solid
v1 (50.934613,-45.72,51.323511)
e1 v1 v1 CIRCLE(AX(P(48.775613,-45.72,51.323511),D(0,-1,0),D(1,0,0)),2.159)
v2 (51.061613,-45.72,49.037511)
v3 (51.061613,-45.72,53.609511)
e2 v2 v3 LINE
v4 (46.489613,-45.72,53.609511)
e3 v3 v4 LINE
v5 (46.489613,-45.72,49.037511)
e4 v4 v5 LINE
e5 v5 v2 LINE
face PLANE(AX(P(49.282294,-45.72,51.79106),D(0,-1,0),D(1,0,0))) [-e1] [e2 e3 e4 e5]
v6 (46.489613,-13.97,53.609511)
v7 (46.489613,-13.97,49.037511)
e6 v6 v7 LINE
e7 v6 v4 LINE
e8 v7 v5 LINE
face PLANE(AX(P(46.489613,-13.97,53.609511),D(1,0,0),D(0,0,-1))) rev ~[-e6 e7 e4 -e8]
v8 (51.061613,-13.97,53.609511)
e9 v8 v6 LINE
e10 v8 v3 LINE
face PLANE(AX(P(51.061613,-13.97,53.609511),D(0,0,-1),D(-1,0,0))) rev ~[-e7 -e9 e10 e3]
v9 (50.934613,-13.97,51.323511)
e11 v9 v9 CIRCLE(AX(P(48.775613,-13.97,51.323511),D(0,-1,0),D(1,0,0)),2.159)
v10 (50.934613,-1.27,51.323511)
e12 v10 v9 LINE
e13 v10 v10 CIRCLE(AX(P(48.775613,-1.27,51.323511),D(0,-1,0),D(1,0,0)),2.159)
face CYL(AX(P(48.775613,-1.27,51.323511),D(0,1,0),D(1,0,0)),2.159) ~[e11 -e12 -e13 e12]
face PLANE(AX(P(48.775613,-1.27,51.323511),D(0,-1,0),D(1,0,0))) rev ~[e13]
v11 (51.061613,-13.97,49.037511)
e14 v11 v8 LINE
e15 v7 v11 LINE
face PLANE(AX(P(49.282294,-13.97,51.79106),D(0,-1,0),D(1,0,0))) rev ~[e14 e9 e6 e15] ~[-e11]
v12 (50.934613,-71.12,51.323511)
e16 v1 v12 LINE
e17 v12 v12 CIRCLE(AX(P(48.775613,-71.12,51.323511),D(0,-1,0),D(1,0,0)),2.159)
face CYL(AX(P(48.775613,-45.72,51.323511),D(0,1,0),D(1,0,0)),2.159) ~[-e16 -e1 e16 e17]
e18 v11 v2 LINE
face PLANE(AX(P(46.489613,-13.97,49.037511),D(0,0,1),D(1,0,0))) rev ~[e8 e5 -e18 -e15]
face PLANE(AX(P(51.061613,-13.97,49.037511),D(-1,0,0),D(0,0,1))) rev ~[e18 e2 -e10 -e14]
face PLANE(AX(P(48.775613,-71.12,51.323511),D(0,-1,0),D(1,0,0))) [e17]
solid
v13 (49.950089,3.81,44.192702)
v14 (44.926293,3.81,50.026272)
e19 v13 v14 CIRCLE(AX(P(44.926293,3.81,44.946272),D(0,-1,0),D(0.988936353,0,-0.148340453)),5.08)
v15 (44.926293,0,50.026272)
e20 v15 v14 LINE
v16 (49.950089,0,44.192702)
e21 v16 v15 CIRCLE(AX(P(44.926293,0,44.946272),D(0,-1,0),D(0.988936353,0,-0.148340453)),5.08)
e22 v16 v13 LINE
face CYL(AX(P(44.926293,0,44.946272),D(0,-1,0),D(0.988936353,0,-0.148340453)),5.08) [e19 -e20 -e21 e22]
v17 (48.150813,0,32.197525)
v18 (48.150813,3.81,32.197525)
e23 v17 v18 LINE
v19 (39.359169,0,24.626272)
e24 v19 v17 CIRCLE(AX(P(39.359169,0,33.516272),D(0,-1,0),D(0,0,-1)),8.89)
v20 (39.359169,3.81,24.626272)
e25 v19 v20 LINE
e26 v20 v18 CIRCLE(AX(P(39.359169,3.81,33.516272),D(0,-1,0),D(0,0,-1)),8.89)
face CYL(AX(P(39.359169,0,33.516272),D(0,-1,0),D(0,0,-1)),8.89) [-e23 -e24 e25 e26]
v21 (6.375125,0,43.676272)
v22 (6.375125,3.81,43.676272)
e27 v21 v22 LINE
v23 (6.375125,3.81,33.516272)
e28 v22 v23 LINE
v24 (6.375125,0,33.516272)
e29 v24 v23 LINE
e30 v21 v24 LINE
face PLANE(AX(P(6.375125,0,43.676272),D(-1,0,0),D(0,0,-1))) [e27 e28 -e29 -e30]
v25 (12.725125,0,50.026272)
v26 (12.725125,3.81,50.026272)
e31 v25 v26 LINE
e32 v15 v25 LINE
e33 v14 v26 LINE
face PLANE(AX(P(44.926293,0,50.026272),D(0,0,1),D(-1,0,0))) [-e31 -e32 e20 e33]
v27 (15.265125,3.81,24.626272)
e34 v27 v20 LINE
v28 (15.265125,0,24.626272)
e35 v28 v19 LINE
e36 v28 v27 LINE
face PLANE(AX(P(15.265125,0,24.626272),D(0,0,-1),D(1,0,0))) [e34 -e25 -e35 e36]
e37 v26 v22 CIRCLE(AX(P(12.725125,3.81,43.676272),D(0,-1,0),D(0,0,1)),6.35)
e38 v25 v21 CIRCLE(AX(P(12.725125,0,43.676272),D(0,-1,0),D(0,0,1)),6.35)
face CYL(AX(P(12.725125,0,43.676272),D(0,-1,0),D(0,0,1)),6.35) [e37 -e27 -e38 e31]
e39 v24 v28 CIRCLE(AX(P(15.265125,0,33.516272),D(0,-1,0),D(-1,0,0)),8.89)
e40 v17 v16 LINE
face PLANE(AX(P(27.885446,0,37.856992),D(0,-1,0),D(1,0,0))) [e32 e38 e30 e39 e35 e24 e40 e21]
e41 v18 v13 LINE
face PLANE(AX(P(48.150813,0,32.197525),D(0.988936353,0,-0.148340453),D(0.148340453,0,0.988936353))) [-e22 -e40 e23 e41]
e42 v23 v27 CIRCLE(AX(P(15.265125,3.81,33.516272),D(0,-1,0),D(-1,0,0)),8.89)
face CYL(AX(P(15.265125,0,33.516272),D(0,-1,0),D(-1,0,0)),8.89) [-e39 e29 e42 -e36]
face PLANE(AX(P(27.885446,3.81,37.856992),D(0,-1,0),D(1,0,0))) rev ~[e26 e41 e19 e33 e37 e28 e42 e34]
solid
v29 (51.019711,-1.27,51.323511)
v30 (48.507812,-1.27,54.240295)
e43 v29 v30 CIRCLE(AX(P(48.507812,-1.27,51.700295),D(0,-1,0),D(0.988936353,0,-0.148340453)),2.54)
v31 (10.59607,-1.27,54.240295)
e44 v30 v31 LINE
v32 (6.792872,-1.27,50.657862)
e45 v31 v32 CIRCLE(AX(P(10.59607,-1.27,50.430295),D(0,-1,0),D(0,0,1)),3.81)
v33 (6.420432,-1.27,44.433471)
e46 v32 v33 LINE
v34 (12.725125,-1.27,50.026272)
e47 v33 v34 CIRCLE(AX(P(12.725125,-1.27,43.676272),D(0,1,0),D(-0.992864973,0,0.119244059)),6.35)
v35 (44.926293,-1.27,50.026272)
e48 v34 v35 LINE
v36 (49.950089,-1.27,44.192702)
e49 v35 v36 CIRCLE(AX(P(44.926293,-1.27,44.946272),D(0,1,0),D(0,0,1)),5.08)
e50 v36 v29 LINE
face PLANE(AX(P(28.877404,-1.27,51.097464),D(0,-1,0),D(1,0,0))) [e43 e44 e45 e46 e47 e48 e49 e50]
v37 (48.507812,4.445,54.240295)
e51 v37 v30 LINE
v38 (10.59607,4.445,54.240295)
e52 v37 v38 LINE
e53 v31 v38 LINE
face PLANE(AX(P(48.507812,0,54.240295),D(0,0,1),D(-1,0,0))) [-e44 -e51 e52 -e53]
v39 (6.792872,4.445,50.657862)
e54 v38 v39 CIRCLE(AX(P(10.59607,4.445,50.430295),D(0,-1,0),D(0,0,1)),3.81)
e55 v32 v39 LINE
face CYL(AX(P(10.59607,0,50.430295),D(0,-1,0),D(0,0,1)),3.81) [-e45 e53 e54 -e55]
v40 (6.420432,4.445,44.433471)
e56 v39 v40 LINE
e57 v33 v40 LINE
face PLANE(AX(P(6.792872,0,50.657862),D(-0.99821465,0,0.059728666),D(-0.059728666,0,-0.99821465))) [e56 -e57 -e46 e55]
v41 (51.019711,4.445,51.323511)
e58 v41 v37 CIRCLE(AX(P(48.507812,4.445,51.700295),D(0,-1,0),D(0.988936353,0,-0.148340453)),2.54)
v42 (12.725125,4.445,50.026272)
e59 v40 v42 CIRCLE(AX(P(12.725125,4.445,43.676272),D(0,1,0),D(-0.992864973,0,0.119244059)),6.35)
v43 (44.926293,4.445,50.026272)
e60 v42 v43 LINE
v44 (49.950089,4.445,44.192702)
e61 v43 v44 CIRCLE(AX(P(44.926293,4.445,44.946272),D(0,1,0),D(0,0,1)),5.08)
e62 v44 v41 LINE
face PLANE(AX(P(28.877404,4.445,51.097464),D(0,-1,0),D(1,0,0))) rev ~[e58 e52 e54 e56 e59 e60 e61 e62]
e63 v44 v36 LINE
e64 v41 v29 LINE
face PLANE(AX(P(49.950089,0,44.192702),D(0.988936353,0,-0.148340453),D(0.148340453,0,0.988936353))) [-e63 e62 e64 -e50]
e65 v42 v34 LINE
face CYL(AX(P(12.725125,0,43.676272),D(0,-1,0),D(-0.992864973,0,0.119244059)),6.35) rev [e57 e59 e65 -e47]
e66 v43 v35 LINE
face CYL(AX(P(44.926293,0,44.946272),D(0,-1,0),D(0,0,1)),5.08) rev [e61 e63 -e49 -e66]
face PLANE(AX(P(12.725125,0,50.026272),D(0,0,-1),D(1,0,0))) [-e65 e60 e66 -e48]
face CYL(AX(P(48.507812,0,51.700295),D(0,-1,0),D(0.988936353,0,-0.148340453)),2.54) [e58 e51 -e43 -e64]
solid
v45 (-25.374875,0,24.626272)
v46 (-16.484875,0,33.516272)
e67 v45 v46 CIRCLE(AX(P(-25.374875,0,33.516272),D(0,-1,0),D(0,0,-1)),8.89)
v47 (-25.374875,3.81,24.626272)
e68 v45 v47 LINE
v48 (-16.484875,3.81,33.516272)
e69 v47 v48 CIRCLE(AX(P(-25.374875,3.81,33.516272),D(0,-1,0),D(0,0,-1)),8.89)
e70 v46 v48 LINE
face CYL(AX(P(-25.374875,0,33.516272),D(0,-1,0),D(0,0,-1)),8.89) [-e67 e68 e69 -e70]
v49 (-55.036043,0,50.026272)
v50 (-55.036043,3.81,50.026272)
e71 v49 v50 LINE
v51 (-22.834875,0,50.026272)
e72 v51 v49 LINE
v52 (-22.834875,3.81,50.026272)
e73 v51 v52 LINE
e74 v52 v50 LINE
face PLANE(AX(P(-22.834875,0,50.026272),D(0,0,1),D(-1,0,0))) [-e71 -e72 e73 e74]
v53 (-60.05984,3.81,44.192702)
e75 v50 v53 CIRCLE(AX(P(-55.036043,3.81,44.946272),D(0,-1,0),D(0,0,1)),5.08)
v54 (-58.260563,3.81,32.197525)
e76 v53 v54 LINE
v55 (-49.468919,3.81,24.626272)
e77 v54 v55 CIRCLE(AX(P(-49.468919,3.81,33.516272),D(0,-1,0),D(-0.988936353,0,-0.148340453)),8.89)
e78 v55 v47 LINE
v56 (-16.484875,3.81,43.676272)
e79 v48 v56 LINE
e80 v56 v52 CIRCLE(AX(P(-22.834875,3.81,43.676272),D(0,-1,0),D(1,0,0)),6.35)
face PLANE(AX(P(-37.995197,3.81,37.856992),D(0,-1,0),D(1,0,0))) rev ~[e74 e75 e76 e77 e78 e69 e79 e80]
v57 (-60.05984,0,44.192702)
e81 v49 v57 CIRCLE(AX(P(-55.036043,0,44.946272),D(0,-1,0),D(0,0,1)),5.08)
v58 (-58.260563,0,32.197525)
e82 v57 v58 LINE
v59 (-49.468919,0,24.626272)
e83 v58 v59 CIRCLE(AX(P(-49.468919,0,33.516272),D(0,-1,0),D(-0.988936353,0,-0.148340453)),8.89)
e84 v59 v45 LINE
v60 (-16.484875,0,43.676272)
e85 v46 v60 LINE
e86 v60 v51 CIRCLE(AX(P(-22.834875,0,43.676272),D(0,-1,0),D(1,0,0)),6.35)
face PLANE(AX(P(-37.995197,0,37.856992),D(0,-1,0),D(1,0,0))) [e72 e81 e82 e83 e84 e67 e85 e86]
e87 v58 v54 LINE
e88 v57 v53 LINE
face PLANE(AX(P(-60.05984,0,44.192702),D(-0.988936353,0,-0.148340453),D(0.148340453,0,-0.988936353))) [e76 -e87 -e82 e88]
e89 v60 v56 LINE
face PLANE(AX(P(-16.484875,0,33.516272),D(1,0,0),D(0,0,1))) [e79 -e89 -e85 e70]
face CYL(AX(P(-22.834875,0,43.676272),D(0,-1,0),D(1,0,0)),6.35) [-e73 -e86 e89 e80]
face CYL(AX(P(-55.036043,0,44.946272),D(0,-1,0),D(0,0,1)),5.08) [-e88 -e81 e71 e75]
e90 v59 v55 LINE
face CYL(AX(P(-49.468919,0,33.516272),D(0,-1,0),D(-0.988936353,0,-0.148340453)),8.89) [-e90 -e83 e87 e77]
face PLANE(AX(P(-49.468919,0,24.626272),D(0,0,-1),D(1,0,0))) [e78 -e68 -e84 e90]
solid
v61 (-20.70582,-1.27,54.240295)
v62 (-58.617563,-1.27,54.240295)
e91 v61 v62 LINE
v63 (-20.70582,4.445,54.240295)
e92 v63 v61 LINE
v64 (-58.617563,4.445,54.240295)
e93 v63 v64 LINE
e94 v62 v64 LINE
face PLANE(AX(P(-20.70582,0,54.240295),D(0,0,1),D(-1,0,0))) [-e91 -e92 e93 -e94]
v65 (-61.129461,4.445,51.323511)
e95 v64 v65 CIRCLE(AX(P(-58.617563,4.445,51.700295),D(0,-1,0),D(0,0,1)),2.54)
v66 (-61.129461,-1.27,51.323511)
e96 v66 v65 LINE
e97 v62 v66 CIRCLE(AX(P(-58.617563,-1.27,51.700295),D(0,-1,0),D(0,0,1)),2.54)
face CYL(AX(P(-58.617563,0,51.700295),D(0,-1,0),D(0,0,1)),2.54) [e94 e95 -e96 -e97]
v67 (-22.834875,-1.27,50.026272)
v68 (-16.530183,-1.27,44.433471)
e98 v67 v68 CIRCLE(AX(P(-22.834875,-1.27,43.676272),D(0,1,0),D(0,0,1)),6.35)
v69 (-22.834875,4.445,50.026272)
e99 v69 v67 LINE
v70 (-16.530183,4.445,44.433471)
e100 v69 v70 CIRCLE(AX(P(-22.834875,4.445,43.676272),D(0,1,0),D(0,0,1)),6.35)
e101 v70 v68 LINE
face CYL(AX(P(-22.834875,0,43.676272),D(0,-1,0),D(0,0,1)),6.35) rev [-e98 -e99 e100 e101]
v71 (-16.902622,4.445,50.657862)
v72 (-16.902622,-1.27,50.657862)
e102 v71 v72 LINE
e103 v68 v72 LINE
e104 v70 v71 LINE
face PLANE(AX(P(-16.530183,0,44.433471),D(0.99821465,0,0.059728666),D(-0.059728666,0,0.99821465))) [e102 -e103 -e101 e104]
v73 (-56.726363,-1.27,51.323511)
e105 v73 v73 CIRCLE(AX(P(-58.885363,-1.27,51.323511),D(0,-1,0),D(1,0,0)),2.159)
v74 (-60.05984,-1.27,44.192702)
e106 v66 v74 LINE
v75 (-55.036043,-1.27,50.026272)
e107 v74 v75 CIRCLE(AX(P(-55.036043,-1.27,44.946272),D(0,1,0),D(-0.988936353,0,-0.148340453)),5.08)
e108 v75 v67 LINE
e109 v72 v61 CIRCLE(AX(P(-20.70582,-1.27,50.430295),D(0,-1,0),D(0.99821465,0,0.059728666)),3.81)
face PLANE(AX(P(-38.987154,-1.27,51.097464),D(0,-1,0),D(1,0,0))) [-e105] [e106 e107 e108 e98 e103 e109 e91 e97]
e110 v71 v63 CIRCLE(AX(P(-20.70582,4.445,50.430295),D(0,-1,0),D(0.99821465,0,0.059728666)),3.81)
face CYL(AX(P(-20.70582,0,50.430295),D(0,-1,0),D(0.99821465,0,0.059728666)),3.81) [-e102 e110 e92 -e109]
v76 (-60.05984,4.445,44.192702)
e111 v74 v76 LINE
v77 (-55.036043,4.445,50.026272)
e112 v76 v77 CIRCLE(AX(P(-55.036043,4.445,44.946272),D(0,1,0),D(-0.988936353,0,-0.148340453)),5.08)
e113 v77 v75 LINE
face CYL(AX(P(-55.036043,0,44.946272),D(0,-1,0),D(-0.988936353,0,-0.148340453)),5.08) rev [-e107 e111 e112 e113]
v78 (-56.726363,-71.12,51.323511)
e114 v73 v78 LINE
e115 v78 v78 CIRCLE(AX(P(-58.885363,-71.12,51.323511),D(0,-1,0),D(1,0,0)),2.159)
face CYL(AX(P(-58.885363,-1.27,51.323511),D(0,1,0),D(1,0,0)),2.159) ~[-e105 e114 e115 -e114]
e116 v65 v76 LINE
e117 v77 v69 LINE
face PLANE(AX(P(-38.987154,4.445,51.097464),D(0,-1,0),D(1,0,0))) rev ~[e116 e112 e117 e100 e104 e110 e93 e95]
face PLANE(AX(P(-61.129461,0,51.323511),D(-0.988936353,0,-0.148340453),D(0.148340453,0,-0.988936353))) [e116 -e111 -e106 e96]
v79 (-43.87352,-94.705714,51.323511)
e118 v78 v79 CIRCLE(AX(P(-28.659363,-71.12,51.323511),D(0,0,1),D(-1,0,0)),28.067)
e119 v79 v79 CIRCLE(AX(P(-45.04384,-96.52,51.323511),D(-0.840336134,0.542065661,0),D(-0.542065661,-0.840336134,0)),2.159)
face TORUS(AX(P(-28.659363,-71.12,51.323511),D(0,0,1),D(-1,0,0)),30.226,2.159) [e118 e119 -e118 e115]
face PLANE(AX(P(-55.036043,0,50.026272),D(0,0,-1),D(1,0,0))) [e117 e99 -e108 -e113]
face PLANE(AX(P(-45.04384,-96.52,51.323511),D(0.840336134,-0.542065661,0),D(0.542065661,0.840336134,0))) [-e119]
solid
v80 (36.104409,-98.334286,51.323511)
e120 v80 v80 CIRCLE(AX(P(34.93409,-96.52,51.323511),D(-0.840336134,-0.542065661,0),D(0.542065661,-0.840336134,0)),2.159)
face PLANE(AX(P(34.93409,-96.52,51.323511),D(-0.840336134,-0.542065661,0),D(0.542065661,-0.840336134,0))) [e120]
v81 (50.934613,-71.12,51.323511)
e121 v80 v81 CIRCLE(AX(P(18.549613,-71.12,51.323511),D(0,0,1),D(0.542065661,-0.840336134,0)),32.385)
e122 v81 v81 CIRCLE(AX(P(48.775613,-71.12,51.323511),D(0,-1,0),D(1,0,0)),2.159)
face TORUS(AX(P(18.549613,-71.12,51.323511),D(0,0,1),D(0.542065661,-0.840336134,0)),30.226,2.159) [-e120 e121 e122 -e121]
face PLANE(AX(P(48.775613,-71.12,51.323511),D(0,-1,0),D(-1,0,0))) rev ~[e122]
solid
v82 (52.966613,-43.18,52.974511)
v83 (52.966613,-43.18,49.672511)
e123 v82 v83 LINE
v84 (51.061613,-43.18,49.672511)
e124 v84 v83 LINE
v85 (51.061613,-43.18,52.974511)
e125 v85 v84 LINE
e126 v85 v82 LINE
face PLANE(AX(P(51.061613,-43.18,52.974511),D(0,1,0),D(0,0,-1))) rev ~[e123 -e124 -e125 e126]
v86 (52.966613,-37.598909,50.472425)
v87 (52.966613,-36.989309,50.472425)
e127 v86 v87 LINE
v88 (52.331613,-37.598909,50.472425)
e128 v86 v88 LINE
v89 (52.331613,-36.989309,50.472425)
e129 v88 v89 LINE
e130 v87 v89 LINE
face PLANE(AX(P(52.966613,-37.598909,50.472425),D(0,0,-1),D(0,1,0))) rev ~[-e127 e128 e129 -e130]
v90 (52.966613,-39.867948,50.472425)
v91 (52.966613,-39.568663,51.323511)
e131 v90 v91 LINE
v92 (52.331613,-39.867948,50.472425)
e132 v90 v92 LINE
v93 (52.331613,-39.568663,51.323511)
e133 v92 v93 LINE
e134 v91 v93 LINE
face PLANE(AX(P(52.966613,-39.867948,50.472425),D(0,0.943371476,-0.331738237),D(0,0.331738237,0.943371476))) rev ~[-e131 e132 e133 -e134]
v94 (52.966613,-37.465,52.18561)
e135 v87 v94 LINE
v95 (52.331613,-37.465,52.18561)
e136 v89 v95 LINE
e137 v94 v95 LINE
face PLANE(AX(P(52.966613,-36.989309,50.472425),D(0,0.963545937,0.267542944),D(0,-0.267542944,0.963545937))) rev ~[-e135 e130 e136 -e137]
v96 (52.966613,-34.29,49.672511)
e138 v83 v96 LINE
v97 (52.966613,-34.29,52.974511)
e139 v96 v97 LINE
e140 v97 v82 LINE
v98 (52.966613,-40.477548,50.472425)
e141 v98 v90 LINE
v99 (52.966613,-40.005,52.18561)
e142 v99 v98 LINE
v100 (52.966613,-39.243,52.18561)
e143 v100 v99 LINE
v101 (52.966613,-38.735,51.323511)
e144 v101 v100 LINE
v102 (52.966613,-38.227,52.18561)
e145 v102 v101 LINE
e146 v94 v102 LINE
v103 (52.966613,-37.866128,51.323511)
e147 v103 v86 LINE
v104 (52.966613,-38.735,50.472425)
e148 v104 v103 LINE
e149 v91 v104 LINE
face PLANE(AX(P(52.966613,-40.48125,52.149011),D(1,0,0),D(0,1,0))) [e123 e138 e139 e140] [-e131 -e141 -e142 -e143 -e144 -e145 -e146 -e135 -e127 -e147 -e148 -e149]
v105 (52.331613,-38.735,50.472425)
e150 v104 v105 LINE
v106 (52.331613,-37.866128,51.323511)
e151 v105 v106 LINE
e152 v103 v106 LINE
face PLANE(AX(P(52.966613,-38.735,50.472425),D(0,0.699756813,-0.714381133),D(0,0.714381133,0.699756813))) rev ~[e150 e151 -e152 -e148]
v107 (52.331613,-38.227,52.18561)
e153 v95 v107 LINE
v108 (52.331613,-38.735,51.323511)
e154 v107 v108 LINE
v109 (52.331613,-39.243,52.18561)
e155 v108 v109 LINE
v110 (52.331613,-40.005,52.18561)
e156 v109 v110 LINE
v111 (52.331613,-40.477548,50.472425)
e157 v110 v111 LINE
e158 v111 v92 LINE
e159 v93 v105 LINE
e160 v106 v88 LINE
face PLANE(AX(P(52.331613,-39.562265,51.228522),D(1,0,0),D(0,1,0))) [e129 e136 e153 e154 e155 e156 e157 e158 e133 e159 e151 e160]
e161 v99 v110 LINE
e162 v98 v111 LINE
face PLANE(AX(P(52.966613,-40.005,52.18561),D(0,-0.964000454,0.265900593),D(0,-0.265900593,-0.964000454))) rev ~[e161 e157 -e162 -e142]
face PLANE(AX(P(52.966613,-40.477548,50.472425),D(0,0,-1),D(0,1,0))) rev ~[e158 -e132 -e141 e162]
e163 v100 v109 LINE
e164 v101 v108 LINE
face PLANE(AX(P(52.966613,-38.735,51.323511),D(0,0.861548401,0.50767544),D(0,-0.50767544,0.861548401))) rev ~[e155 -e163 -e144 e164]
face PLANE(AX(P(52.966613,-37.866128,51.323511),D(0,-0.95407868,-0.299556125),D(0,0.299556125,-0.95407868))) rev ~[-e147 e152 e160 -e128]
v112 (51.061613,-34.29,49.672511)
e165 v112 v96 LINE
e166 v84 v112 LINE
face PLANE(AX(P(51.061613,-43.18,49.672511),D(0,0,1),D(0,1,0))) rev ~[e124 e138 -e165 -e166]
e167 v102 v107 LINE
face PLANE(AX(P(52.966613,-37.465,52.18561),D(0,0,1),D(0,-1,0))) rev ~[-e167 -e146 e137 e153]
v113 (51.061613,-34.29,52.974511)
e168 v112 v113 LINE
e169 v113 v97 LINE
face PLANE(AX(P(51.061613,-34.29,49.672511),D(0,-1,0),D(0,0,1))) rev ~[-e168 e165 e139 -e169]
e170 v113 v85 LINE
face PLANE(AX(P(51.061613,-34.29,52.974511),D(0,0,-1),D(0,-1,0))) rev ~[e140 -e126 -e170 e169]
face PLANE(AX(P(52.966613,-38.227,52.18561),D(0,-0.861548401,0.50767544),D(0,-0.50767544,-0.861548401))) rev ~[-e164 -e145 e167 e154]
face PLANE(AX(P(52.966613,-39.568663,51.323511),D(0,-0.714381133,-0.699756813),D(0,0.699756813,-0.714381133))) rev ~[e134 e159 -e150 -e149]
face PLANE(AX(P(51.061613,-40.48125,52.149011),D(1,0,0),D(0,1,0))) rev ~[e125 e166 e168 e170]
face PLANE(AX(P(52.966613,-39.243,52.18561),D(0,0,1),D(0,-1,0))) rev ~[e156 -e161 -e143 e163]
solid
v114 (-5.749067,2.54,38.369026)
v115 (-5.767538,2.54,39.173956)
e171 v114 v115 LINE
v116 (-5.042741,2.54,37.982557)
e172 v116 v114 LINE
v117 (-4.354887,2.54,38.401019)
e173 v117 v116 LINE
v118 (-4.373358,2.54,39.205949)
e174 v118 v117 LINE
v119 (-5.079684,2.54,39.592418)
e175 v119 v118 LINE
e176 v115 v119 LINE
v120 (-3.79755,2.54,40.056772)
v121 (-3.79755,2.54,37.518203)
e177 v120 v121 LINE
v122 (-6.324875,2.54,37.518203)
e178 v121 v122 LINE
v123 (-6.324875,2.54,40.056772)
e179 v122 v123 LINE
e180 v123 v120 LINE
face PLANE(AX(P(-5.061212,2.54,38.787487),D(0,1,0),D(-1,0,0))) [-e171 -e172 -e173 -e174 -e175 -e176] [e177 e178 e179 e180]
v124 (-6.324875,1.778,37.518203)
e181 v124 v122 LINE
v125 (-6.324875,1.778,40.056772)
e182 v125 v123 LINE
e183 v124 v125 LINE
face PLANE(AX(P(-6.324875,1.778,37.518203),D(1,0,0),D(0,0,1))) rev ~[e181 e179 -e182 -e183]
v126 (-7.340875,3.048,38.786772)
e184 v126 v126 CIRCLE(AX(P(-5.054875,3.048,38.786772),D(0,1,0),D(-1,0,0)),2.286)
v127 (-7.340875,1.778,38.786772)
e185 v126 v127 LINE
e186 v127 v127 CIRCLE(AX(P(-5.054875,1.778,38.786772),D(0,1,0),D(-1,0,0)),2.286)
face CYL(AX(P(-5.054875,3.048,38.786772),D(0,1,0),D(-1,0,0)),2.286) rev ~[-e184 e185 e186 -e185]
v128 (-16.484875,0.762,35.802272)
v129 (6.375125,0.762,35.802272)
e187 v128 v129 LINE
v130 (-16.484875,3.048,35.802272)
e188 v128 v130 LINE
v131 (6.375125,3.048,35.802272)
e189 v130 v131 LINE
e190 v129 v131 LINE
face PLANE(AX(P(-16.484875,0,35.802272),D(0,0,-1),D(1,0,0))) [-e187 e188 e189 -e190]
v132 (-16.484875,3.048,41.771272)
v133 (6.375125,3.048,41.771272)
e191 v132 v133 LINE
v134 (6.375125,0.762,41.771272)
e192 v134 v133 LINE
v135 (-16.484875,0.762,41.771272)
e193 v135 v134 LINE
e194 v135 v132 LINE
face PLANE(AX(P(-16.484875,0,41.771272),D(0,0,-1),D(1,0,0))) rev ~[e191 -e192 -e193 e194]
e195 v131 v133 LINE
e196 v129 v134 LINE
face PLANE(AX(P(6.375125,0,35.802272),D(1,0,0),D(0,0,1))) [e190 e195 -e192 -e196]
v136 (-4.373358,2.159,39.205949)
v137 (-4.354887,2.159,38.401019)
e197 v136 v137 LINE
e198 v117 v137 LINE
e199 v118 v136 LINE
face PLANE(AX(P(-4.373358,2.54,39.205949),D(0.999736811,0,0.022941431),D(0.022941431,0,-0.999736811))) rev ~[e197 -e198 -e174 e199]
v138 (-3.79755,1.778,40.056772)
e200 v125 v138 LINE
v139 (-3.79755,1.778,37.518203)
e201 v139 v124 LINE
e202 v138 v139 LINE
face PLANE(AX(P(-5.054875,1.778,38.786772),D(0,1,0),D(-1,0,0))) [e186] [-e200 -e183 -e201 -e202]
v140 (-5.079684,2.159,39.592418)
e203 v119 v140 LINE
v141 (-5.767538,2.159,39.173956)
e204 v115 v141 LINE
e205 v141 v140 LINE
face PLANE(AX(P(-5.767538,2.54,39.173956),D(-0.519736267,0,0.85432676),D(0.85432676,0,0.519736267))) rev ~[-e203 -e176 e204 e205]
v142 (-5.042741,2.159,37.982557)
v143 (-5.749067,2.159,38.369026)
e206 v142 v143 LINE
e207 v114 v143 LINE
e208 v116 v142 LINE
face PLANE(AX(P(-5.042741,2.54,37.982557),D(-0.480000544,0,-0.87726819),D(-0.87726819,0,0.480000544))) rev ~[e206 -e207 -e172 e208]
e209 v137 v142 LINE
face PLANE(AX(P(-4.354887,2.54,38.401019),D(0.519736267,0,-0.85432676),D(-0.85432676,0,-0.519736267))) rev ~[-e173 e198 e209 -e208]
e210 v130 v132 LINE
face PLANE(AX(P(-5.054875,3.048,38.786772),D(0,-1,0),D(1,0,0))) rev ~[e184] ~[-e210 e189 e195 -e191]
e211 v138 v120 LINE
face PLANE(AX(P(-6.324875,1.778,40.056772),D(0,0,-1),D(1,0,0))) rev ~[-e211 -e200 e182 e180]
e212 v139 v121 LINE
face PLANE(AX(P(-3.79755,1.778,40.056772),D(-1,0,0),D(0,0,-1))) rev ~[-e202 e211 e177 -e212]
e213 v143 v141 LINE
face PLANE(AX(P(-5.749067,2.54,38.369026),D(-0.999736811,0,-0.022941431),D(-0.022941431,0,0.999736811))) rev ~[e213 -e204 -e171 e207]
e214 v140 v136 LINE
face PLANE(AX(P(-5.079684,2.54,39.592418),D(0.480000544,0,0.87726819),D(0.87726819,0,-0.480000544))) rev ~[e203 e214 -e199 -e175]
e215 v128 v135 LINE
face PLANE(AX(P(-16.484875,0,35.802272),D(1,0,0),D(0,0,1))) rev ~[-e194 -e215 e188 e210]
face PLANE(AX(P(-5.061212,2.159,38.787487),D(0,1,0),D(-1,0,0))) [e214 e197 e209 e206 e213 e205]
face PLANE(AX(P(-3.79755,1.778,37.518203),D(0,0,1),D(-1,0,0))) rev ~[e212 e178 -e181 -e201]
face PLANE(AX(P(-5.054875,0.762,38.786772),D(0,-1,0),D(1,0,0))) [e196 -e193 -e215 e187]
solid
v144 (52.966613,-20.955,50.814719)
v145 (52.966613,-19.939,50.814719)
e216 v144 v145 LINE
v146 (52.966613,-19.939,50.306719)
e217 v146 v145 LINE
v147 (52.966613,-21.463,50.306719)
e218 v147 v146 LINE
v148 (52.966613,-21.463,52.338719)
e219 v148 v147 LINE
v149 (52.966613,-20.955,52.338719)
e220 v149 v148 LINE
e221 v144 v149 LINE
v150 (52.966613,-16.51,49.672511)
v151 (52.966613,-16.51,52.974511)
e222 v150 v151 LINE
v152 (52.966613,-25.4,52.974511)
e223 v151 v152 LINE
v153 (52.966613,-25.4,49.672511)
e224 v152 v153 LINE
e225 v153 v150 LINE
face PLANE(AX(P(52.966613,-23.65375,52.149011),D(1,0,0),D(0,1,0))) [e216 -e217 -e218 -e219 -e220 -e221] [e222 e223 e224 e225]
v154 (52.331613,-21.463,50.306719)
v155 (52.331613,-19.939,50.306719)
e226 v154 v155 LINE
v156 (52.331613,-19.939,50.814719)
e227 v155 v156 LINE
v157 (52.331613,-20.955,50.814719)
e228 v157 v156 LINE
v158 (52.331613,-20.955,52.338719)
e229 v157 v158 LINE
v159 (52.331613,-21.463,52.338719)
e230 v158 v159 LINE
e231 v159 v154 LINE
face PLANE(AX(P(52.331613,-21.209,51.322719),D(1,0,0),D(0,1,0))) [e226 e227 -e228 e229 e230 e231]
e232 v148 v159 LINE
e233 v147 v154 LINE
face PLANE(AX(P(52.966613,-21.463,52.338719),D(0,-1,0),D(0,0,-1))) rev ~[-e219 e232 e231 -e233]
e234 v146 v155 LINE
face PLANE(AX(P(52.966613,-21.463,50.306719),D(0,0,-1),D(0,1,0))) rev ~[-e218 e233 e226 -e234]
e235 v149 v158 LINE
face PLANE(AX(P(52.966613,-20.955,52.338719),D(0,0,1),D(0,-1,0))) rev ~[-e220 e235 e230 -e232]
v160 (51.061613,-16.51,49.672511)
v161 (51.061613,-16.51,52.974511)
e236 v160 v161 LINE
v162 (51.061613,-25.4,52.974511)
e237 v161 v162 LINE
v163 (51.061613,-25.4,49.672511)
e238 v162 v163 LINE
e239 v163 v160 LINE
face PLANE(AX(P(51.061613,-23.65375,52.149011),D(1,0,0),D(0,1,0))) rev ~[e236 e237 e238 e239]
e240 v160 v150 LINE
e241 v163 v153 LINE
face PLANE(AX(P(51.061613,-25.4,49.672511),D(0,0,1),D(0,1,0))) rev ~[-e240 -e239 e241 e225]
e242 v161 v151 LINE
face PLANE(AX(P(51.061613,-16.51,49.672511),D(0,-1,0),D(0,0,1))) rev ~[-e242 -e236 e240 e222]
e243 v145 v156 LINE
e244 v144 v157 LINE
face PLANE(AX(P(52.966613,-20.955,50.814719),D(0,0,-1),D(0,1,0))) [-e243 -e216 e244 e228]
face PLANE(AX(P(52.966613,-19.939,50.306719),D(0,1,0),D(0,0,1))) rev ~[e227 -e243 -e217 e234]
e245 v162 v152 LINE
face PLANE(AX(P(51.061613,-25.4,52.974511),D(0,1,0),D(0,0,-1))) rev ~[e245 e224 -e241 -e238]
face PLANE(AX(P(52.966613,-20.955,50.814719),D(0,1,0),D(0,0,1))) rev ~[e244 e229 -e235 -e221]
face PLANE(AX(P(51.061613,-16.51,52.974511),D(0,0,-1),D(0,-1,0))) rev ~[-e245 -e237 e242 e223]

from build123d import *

# Parameters (mm, degrees)
F1_DEPTH      = 3.81
F0_W          = 22.86
F0_H          = 5.969
F2_DEPTH      = 3.048
F3_DEPTH      = 0.762
F5_DEPTH      = 1.27
F5_DEPTH_BACK = 4.445
F6_R          = 2.159
F7_DEPTH      = 69.85
F8_DEPTH      = 12.7
F10_DEPTH     = 31.75
F11_R         = 2.159
F12_DEPTH     = 25.4
F13_R         = 2.286
F14_DEPTH     = 1.27
F16_DEPTH     = 0.762
F18_DEPTH     = 0.381
F19_DEPTH     = 5.08
F21_W         = 5.3975
F21_H         = 1.651
F21_W_2       = 3.4925
F22_DEPTH     = 1.905
F23_W         = 1.016
F23_H         = 0.508
F24_DEPTH     = 0.635
F26_DEPTH     = 0.635
F27_R         = 2.159
F30_R         = 2.159


with BuildPart() as f1:
    # F0 (on Front) → F1 (new body)
    with BuildSketch(Plane.XZ):
        with BuildLine():
            Line((-22.8348751962, 50.0262716477), (-55.0360430985, 50.0262716477))
            ThreePointArc((-55.0360430985, 50.0262716477), (-58.8853633674, 48.2612578419), (-60.0598397711, 44.1927021468))
            Line((-60.0598397711, 44.1927021468), (-58.2605632022, 32.1975250211))
            ThreePointArc((-58.2605632022, 32.1975250211), (-55.2701448651, 26.7799611772), (-49.4689190252, 24.6262716477))
            Line((-49.4689190252, 24.6262716477), (-25.3748751962, 24.6262716477))
            ThreePointArc((-25.3748751962, 24.6262716477), (-19.0886959115, 27.2300923629), (-16.4848751962, 33.5162716477))
            Line((-16.4848751962, 33.5162716477), (-16.4848751962, 35.8022716477))
            Line((-16.4848751962, 35.8022716477), (-16.4848751962, 41.7712716477))
            Line((-16.4848751962, 41.7712716477), (-16.4848751962, 43.6762716477))
            ThreePointArc((-16.4848751962, 43.6762716477), (-18.3447471357, 48.1663997082), (-22.8348751962, 50.0262716477))
        make_face()
    extrude(amount=-F1_DEPTH)


with BuildPart() as f1b:
    # F0 (on Front) → F1, piece 2 (new body)
    with BuildSketch(Plane.XZ):
        with BuildLine():
            Line((6.3751248038, 43.6762716477), (6.3751248038, 41.7712716477))
            Line((6.3751248038, 41.7712716477), (6.3751248038, 35.8022716477))
            Line((6.3751248038, 35.8022716477), (6.3751248038, 33.5162716477))
            ThreePointArc((6.3751248038, 33.5162716477), (8.978945519, 27.2300923629), (15.2651248038, 24.6262716477))
            Line((15.2651248038, 24.6262716477), (39.3591686328, 24.6262716477))
            ThreePointArc((39.3591686328, 24.6262716477), (45.1603944727, 26.7799611772), (48.1508128098, 32.1975250211))
            Line((48.1508128098, 32.1975250211), (49.9500893786, 44.1927021468))
            ThreePointArc((49.9500893786, 44.1927021468), (48.7756129749, 48.2612578419), (44.9262927061, 50.0262716477))
            Line((44.9262927061, 50.0262716477), (12.7251248038, 50.0262716477))
            ThreePointArc((12.7251248038, 50.0262716477), (8.2349967432, 48.1663997082), (6.3751248038, 43.6762716477))
        make_face()
    extrude(amount=-F1_DEPTH)


with BuildPart() as f2:
    # F0 (on Front) → F2 (new body)
    with BuildSketch(Plane.XZ):
        with Locations((-5.0548751962, 38.7867716477)):
            Rectangle(F0_W, F0_H)
    extrude(amount=-F2_DEPTH)

    # F3 (cut): a face of the model
    f3_faces = [f2.faces().sort_by_distance(p)[0] for p in [
        (-5.0548751962, 0, 38.7867716477),
    ]]
    extrude(f3_faces, amount=-F3_DEPTH, mode=Mode.SUBTRACT)

    # F13 (on face) → F14 (cut)
    with BuildSketch(Plane(origin=(0, 3.048, 0), x_dir=(-1, 0, 0), z_dir=(0, 1, 0))):
        with Locations((5.0548751962, 38.7867716477)):
            Circle(F13_R)
    extrude(amount=-F14_DEPTH, mode=Mode.SUBTRACT)

    # F15 (on face) → F16 (join)
    with BuildSketch(Plane(origin=(0, 1.778, 0), x_dir=(-1, 0, 0), z_dir=(0, 1, 0))):
        Polygon((6.3248751962, 37.5182032585), (6.3248751962, 38.7867716477), (6.3248751962, 40.0567716477), (3.7975497544, 40.0567716477), (3.7975497544, 37.5182032585), align=None)
    extrude(amount=F16_DEPTH)

    # F17 (on face) → F18 (cut)
    with BuildSketch(Plane(origin=(0, 2.54, 0), x_dir=(-1, 0, 0), z_dir=(0, 1, 0))):
        Polygon((5.0427413614, 37.9825571542), (5.7490670054, 38.3690258498), (5.7675381194, 39.1739561486), (5.0796835892, 39.592417752), (4.3733579452, 39.2059490565), (4.3548868312, 38.4010187576), align=None)
    extrude(amount=-F18_DEPTH, mode=Mode.SUBTRACT)


with BuildPart() as f5:
    # F4 (on Front) → F5 (new body, two sides)
    with BuildSketch(Plane.XZ) as f5_sk:
        with BuildLine():
            ThreePointArc((-60.0598397711, 44.1927021468), (-58.8853633674, 48.2612578419), (-55.0360430985, 50.0262716477))
            Line((-55.0360430985, 50.0262716477), (-22.8348751962, 50.0262716477))
            ThreePointArc((-22.8348751962, 50.0262716477), (-18.6209529466, 48.4265726144), (-16.530182618, 44.4334714191))
            Line((-16.530182618, 44.4334714191), (-16.9026220807, 50.6578617088))
            ThreePointArc((-16.9026220807, 50.6578617088), (-18.0934385378, 53.2036623345), (-20.7058198953, 54.240295492))
            Line((-20.7058198953, 54.240295492), (-58.617562724, 54.240295492))
            ThreePointArc((-58.617562724, 54.240295492), (-60.5422228584, 53.3577885891), (-61.1294610603, 51.3235107415))
            Line((-61.1294610603, 51.3235107415), (-60.0598397711, 44.1927021468))
        make_face()
    extrude(amount=F5_DEPTH)
    extrude(f5_sk.sketch, amount=-F5_DEPTH_BACK)

    # F6 (on face) → F7 (join)
    with BuildSketch(Plane.XZ.offset(1.27)):
        with Locations((-58.8853633674, 51.3235107415)):
            Circle(F6_R)
    extrude(amount=F7_DEPTH)

    # F32: sweep along a path in F31
    with BuildLine(Plane.XY) as f32_path:
        ThreePointArc((-58.8853633674, -71.12), (-55.2003530631, -85.5832963729), (-45.043840045, -96.52))
    # F30 (on face) → F32 (sweep)
    with BuildSketch(Plane.XZ.offset(71.12)):
        with Locations((-58.8853633674, 51.3235107415)):
            Circle(F30_R)
    sweep(path=f32_path.line)


with BuildPart() as f5b:
    # F4 (on Front) → F5, piece 2 (new body, two sides)
    with BuildSketch(Plane.XZ) as f5_2_sk:
        with BuildLine():
            ThreePointArc((6.4204322255, 44.4334714191), (8.5112025542, 48.4265726144), (12.7251248038, 50.0262716477))
            Line((12.7251248038, 50.0262716477), (44.9262927061, 50.0262716477))
            ThreePointArc((44.9262927061, 50.0262716477), (48.7756129749, 48.2612578419), (49.9500893786, 44.1927021468))
            Line((49.9500893786, 44.1927021468), (51.0197106679, 51.3235107415))
            ThreePointArc((51.0197106679, 51.3235107415), (50.432472466, 53.3577885891), (48.5078123316, 54.240295492))
            Line((48.5078123316, 54.240295492), (10.5960695028, 54.240295492))
            ThreePointArc((10.5960695028, 54.240295492), (7.9836881454, 53.2036623345), (6.7928716882, 50.6578617088))
            Line((6.7928716882, 50.6578617088), (6.4204322255, 44.4334714191))
        make_face()
    extrude(amount=F5_DEPTH)
    extrude(f5_2_sk.sketch, amount=-F5_DEPTH_BACK)


with BuildPart() as f8:
    # F6 (on face) → F8 (new body)
    with BuildSketch(Plane.XZ.offset(1.27)):
        with Locations((48.7756129749, 51.3235107415)):
            Circle(F6_R)
    extrude(amount=F8_DEPTH)

    # F9 (on face) → F10 (join)
    with BuildSketch(Plane.XZ.offset(13.97)):
        with BuildLine():
            Line((46.4896129749, 51.3235107415), (46.6166129749, 51.3235107415))
            ThreePointArc((46.6166129749, 51.3235107415), (48.7756129749, 53.4825107415), (50.9346129749, 51.3235107415))
            ThreePointArc((50.9346129749, 51.3235107415), (50.3022565155, 49.7968672009), (48.7756129749, 49.1645107415))
            Line((48.7756129749, 49.1645107415), (48.7756129749, 49.0375107415))
            Line((48.7756129749, 49.0375107415), (51.0616129749, 49.0375107415))
            Line((51.0616129749, 49.0375107415), (51.0616129749, 53.6095107415))
            Line((51.0616129749, 53.6095107415), (46.4896129749, 53.6095107415))
            Line((46.4896129749, 53.6095107415), (46.4896129749, 51.3235107415))
        make_face()
        with BuildLine():
            Line((46.6166129749, 51.3235107415), (48.7756129749, 51.3235107415))
            Line((48.7756129749, 51.3235107415), (48.7756129749, 49.1645107415))
            ThreePointArc((48.7756129749, 49.1645107415), (50.3022565155, 49.7968672009), (50.9346129749, 51.3235107415))
            ThreePointArc((50.9346129749, 51.3235107415), (48.7756129749, 53.4825107415), (46.6166129749, 51.3235107415))
        make_face()
        with BuildLine():
            Line((48.7756129749, 49.1645107415), (48.7756129749, 51.3235107415))
            Line((48.7756129749, 51.3235107415), (46.6166129749, 51.3235107415))
            ThreePointArc((46.6166129749, 51.3235107415), (47.2489694344, 49.7968672009), (48.7756129749, 49.1645107415))
        make_face()
        with BuildLine():
            ThreePointArc((48.7756129749, 49.1645107415), (47.2489694344, 49.7968672009), (46.6166129749, 51.3235107415))
            Line((46.6166129749, 51.3235107415), (46.4896129749, 51.3235107415))
            Line((46.4896129749, 51.3235107415), (46.4896129749, 49.0375107415))
            Line((46.4896129749, 49.0375107415), (48.7756129749, 49.0375107415))
            Line((48.7756129749, 49.0375107415), (48.7756129749, 49.1645107415))
        make_face()
    extrude(amount=F10_DEPTH)

    # F11 (on face) → F12 (join)
    with BuildSketch(Plane.XZ.offset(45.72)):
        with Locations((48.7756129749, 51.3235107415)):
            Circle(F11_R)
    extrude(amount=F12_DEPTH)


with BuildPart() as f19:
    # F19 (new): a face of the model
    f19_faces = [f8.part.faces().sort_by_distance(p)[0] for p in [
        (48.7756129749, -71.12, 51.3235107415),
    ]]
    extrude(f19_faces, amount=F19_DEPTH)


with BuildPart() as f22:
    # F21 (on face) → F22 (new body)
    with BuildSketch(Plane.YZ.offset(51.0616129749)):
        with Locations((-40.48125, 52.1490107415)):
            Rectangle(F21_W, F21_H)
        with Locations((-40.48125, 50.4980107415)):
            Rectangle(F21_W, F21_H)
        with Locations((-36.03625, 52.1490107415)):
            Rectangle(F21_W_2, F21_H)
        with Locations((-36.03625, 50.4980107415)):
            Rectangle(F21_W_2, F21_H)
    extrude(amount=F22_DEPTH)

    # F25 (on face) → F26 (cut)
    with BuildSketch(Plane.YZ.offset(52.9666129749)):
        Polygon((-38.735, 50.4724252605), (-38.735, 51.3235107415), (-39.243, 52.1856099367), (-40.005, 52.1856099367), (-40.4775483483, 50.4724252605), (-39.8679483483, 50.4724252605), (-39.5686626434, 51.3235107415), align=None)
        Polygon((-38.227, 52.1856099367), (-38.735, 51.3235107415), (-38.735, 50.4724252605), (-37.866127559, 51.3235107415), (-37.598908645, 50.4724252605), (-36.989308645, 50.4724252605), (-37.465, 52.1856099367), align=None)
    extrude(amount=-F26_DEPTH, mode=Mode.SUBTRACT)


with BuildPart() as f22b:
    # F21 (on face) → F22, piece 2 (new body)
    with BuildSketch(Plane.YZ.offset(51.0616129749)):
        with Locations((-23.65375, 52.1490107415)):
            Rectangle(F21_W_2, F21_H)
        with Locations((-23.65375, 50.4980107415)):
            Rectangle(F21_W_2, F21_H)
        with Locations((-19.20875, 52.1490107415)):
            Rectangle(F21_W, F21_H)
        with Locations((-19.20875, 50.4980107415)):
            Rectangle(F21_W, F21_H)
    extrude(amount=F22_DEPTH)

    # F23 (on face) → F24 (cut)
    with BuildSketch(Plane.YZ.offset(52.9666129749)):
        Polygon((-20.955, 50.8147187965), (-20.955, 52.3387187965), (-21.463, 52.3387187965), (-21.463, 50.3067187965), (-20.955, 50.3067187965), align=None)
        with Locations((-20.447, 50.5607187965)):
            Rectangle(F23_W, F23_H)
    extrude(amount=-F24_DEPTH, mode=Mode.SUBTRACT)


with BuildPart() as f29:
    # F29: sweep along a path in F28
    with BuildLine(Plane.XY) as f29_path:
        ThreePointArc((34.9340896526, -96.52), (45.0906026707, -85.5832963729), (48.7756129749, -71.12))
    # F27 (on face) → F29 (sweep)
    with BuildSketch(Plane.XZ.offset(71.12)):
        with Locations((48.7756129749, 51.3235107415)):
            Circle(F27_R)
    sweep(path=f29_path.line)


solid = Compound([f1.part, f1b.part, f2.part, f5.part, f5b.part, f8.part, f22.part, f22b.part, f29.part])
